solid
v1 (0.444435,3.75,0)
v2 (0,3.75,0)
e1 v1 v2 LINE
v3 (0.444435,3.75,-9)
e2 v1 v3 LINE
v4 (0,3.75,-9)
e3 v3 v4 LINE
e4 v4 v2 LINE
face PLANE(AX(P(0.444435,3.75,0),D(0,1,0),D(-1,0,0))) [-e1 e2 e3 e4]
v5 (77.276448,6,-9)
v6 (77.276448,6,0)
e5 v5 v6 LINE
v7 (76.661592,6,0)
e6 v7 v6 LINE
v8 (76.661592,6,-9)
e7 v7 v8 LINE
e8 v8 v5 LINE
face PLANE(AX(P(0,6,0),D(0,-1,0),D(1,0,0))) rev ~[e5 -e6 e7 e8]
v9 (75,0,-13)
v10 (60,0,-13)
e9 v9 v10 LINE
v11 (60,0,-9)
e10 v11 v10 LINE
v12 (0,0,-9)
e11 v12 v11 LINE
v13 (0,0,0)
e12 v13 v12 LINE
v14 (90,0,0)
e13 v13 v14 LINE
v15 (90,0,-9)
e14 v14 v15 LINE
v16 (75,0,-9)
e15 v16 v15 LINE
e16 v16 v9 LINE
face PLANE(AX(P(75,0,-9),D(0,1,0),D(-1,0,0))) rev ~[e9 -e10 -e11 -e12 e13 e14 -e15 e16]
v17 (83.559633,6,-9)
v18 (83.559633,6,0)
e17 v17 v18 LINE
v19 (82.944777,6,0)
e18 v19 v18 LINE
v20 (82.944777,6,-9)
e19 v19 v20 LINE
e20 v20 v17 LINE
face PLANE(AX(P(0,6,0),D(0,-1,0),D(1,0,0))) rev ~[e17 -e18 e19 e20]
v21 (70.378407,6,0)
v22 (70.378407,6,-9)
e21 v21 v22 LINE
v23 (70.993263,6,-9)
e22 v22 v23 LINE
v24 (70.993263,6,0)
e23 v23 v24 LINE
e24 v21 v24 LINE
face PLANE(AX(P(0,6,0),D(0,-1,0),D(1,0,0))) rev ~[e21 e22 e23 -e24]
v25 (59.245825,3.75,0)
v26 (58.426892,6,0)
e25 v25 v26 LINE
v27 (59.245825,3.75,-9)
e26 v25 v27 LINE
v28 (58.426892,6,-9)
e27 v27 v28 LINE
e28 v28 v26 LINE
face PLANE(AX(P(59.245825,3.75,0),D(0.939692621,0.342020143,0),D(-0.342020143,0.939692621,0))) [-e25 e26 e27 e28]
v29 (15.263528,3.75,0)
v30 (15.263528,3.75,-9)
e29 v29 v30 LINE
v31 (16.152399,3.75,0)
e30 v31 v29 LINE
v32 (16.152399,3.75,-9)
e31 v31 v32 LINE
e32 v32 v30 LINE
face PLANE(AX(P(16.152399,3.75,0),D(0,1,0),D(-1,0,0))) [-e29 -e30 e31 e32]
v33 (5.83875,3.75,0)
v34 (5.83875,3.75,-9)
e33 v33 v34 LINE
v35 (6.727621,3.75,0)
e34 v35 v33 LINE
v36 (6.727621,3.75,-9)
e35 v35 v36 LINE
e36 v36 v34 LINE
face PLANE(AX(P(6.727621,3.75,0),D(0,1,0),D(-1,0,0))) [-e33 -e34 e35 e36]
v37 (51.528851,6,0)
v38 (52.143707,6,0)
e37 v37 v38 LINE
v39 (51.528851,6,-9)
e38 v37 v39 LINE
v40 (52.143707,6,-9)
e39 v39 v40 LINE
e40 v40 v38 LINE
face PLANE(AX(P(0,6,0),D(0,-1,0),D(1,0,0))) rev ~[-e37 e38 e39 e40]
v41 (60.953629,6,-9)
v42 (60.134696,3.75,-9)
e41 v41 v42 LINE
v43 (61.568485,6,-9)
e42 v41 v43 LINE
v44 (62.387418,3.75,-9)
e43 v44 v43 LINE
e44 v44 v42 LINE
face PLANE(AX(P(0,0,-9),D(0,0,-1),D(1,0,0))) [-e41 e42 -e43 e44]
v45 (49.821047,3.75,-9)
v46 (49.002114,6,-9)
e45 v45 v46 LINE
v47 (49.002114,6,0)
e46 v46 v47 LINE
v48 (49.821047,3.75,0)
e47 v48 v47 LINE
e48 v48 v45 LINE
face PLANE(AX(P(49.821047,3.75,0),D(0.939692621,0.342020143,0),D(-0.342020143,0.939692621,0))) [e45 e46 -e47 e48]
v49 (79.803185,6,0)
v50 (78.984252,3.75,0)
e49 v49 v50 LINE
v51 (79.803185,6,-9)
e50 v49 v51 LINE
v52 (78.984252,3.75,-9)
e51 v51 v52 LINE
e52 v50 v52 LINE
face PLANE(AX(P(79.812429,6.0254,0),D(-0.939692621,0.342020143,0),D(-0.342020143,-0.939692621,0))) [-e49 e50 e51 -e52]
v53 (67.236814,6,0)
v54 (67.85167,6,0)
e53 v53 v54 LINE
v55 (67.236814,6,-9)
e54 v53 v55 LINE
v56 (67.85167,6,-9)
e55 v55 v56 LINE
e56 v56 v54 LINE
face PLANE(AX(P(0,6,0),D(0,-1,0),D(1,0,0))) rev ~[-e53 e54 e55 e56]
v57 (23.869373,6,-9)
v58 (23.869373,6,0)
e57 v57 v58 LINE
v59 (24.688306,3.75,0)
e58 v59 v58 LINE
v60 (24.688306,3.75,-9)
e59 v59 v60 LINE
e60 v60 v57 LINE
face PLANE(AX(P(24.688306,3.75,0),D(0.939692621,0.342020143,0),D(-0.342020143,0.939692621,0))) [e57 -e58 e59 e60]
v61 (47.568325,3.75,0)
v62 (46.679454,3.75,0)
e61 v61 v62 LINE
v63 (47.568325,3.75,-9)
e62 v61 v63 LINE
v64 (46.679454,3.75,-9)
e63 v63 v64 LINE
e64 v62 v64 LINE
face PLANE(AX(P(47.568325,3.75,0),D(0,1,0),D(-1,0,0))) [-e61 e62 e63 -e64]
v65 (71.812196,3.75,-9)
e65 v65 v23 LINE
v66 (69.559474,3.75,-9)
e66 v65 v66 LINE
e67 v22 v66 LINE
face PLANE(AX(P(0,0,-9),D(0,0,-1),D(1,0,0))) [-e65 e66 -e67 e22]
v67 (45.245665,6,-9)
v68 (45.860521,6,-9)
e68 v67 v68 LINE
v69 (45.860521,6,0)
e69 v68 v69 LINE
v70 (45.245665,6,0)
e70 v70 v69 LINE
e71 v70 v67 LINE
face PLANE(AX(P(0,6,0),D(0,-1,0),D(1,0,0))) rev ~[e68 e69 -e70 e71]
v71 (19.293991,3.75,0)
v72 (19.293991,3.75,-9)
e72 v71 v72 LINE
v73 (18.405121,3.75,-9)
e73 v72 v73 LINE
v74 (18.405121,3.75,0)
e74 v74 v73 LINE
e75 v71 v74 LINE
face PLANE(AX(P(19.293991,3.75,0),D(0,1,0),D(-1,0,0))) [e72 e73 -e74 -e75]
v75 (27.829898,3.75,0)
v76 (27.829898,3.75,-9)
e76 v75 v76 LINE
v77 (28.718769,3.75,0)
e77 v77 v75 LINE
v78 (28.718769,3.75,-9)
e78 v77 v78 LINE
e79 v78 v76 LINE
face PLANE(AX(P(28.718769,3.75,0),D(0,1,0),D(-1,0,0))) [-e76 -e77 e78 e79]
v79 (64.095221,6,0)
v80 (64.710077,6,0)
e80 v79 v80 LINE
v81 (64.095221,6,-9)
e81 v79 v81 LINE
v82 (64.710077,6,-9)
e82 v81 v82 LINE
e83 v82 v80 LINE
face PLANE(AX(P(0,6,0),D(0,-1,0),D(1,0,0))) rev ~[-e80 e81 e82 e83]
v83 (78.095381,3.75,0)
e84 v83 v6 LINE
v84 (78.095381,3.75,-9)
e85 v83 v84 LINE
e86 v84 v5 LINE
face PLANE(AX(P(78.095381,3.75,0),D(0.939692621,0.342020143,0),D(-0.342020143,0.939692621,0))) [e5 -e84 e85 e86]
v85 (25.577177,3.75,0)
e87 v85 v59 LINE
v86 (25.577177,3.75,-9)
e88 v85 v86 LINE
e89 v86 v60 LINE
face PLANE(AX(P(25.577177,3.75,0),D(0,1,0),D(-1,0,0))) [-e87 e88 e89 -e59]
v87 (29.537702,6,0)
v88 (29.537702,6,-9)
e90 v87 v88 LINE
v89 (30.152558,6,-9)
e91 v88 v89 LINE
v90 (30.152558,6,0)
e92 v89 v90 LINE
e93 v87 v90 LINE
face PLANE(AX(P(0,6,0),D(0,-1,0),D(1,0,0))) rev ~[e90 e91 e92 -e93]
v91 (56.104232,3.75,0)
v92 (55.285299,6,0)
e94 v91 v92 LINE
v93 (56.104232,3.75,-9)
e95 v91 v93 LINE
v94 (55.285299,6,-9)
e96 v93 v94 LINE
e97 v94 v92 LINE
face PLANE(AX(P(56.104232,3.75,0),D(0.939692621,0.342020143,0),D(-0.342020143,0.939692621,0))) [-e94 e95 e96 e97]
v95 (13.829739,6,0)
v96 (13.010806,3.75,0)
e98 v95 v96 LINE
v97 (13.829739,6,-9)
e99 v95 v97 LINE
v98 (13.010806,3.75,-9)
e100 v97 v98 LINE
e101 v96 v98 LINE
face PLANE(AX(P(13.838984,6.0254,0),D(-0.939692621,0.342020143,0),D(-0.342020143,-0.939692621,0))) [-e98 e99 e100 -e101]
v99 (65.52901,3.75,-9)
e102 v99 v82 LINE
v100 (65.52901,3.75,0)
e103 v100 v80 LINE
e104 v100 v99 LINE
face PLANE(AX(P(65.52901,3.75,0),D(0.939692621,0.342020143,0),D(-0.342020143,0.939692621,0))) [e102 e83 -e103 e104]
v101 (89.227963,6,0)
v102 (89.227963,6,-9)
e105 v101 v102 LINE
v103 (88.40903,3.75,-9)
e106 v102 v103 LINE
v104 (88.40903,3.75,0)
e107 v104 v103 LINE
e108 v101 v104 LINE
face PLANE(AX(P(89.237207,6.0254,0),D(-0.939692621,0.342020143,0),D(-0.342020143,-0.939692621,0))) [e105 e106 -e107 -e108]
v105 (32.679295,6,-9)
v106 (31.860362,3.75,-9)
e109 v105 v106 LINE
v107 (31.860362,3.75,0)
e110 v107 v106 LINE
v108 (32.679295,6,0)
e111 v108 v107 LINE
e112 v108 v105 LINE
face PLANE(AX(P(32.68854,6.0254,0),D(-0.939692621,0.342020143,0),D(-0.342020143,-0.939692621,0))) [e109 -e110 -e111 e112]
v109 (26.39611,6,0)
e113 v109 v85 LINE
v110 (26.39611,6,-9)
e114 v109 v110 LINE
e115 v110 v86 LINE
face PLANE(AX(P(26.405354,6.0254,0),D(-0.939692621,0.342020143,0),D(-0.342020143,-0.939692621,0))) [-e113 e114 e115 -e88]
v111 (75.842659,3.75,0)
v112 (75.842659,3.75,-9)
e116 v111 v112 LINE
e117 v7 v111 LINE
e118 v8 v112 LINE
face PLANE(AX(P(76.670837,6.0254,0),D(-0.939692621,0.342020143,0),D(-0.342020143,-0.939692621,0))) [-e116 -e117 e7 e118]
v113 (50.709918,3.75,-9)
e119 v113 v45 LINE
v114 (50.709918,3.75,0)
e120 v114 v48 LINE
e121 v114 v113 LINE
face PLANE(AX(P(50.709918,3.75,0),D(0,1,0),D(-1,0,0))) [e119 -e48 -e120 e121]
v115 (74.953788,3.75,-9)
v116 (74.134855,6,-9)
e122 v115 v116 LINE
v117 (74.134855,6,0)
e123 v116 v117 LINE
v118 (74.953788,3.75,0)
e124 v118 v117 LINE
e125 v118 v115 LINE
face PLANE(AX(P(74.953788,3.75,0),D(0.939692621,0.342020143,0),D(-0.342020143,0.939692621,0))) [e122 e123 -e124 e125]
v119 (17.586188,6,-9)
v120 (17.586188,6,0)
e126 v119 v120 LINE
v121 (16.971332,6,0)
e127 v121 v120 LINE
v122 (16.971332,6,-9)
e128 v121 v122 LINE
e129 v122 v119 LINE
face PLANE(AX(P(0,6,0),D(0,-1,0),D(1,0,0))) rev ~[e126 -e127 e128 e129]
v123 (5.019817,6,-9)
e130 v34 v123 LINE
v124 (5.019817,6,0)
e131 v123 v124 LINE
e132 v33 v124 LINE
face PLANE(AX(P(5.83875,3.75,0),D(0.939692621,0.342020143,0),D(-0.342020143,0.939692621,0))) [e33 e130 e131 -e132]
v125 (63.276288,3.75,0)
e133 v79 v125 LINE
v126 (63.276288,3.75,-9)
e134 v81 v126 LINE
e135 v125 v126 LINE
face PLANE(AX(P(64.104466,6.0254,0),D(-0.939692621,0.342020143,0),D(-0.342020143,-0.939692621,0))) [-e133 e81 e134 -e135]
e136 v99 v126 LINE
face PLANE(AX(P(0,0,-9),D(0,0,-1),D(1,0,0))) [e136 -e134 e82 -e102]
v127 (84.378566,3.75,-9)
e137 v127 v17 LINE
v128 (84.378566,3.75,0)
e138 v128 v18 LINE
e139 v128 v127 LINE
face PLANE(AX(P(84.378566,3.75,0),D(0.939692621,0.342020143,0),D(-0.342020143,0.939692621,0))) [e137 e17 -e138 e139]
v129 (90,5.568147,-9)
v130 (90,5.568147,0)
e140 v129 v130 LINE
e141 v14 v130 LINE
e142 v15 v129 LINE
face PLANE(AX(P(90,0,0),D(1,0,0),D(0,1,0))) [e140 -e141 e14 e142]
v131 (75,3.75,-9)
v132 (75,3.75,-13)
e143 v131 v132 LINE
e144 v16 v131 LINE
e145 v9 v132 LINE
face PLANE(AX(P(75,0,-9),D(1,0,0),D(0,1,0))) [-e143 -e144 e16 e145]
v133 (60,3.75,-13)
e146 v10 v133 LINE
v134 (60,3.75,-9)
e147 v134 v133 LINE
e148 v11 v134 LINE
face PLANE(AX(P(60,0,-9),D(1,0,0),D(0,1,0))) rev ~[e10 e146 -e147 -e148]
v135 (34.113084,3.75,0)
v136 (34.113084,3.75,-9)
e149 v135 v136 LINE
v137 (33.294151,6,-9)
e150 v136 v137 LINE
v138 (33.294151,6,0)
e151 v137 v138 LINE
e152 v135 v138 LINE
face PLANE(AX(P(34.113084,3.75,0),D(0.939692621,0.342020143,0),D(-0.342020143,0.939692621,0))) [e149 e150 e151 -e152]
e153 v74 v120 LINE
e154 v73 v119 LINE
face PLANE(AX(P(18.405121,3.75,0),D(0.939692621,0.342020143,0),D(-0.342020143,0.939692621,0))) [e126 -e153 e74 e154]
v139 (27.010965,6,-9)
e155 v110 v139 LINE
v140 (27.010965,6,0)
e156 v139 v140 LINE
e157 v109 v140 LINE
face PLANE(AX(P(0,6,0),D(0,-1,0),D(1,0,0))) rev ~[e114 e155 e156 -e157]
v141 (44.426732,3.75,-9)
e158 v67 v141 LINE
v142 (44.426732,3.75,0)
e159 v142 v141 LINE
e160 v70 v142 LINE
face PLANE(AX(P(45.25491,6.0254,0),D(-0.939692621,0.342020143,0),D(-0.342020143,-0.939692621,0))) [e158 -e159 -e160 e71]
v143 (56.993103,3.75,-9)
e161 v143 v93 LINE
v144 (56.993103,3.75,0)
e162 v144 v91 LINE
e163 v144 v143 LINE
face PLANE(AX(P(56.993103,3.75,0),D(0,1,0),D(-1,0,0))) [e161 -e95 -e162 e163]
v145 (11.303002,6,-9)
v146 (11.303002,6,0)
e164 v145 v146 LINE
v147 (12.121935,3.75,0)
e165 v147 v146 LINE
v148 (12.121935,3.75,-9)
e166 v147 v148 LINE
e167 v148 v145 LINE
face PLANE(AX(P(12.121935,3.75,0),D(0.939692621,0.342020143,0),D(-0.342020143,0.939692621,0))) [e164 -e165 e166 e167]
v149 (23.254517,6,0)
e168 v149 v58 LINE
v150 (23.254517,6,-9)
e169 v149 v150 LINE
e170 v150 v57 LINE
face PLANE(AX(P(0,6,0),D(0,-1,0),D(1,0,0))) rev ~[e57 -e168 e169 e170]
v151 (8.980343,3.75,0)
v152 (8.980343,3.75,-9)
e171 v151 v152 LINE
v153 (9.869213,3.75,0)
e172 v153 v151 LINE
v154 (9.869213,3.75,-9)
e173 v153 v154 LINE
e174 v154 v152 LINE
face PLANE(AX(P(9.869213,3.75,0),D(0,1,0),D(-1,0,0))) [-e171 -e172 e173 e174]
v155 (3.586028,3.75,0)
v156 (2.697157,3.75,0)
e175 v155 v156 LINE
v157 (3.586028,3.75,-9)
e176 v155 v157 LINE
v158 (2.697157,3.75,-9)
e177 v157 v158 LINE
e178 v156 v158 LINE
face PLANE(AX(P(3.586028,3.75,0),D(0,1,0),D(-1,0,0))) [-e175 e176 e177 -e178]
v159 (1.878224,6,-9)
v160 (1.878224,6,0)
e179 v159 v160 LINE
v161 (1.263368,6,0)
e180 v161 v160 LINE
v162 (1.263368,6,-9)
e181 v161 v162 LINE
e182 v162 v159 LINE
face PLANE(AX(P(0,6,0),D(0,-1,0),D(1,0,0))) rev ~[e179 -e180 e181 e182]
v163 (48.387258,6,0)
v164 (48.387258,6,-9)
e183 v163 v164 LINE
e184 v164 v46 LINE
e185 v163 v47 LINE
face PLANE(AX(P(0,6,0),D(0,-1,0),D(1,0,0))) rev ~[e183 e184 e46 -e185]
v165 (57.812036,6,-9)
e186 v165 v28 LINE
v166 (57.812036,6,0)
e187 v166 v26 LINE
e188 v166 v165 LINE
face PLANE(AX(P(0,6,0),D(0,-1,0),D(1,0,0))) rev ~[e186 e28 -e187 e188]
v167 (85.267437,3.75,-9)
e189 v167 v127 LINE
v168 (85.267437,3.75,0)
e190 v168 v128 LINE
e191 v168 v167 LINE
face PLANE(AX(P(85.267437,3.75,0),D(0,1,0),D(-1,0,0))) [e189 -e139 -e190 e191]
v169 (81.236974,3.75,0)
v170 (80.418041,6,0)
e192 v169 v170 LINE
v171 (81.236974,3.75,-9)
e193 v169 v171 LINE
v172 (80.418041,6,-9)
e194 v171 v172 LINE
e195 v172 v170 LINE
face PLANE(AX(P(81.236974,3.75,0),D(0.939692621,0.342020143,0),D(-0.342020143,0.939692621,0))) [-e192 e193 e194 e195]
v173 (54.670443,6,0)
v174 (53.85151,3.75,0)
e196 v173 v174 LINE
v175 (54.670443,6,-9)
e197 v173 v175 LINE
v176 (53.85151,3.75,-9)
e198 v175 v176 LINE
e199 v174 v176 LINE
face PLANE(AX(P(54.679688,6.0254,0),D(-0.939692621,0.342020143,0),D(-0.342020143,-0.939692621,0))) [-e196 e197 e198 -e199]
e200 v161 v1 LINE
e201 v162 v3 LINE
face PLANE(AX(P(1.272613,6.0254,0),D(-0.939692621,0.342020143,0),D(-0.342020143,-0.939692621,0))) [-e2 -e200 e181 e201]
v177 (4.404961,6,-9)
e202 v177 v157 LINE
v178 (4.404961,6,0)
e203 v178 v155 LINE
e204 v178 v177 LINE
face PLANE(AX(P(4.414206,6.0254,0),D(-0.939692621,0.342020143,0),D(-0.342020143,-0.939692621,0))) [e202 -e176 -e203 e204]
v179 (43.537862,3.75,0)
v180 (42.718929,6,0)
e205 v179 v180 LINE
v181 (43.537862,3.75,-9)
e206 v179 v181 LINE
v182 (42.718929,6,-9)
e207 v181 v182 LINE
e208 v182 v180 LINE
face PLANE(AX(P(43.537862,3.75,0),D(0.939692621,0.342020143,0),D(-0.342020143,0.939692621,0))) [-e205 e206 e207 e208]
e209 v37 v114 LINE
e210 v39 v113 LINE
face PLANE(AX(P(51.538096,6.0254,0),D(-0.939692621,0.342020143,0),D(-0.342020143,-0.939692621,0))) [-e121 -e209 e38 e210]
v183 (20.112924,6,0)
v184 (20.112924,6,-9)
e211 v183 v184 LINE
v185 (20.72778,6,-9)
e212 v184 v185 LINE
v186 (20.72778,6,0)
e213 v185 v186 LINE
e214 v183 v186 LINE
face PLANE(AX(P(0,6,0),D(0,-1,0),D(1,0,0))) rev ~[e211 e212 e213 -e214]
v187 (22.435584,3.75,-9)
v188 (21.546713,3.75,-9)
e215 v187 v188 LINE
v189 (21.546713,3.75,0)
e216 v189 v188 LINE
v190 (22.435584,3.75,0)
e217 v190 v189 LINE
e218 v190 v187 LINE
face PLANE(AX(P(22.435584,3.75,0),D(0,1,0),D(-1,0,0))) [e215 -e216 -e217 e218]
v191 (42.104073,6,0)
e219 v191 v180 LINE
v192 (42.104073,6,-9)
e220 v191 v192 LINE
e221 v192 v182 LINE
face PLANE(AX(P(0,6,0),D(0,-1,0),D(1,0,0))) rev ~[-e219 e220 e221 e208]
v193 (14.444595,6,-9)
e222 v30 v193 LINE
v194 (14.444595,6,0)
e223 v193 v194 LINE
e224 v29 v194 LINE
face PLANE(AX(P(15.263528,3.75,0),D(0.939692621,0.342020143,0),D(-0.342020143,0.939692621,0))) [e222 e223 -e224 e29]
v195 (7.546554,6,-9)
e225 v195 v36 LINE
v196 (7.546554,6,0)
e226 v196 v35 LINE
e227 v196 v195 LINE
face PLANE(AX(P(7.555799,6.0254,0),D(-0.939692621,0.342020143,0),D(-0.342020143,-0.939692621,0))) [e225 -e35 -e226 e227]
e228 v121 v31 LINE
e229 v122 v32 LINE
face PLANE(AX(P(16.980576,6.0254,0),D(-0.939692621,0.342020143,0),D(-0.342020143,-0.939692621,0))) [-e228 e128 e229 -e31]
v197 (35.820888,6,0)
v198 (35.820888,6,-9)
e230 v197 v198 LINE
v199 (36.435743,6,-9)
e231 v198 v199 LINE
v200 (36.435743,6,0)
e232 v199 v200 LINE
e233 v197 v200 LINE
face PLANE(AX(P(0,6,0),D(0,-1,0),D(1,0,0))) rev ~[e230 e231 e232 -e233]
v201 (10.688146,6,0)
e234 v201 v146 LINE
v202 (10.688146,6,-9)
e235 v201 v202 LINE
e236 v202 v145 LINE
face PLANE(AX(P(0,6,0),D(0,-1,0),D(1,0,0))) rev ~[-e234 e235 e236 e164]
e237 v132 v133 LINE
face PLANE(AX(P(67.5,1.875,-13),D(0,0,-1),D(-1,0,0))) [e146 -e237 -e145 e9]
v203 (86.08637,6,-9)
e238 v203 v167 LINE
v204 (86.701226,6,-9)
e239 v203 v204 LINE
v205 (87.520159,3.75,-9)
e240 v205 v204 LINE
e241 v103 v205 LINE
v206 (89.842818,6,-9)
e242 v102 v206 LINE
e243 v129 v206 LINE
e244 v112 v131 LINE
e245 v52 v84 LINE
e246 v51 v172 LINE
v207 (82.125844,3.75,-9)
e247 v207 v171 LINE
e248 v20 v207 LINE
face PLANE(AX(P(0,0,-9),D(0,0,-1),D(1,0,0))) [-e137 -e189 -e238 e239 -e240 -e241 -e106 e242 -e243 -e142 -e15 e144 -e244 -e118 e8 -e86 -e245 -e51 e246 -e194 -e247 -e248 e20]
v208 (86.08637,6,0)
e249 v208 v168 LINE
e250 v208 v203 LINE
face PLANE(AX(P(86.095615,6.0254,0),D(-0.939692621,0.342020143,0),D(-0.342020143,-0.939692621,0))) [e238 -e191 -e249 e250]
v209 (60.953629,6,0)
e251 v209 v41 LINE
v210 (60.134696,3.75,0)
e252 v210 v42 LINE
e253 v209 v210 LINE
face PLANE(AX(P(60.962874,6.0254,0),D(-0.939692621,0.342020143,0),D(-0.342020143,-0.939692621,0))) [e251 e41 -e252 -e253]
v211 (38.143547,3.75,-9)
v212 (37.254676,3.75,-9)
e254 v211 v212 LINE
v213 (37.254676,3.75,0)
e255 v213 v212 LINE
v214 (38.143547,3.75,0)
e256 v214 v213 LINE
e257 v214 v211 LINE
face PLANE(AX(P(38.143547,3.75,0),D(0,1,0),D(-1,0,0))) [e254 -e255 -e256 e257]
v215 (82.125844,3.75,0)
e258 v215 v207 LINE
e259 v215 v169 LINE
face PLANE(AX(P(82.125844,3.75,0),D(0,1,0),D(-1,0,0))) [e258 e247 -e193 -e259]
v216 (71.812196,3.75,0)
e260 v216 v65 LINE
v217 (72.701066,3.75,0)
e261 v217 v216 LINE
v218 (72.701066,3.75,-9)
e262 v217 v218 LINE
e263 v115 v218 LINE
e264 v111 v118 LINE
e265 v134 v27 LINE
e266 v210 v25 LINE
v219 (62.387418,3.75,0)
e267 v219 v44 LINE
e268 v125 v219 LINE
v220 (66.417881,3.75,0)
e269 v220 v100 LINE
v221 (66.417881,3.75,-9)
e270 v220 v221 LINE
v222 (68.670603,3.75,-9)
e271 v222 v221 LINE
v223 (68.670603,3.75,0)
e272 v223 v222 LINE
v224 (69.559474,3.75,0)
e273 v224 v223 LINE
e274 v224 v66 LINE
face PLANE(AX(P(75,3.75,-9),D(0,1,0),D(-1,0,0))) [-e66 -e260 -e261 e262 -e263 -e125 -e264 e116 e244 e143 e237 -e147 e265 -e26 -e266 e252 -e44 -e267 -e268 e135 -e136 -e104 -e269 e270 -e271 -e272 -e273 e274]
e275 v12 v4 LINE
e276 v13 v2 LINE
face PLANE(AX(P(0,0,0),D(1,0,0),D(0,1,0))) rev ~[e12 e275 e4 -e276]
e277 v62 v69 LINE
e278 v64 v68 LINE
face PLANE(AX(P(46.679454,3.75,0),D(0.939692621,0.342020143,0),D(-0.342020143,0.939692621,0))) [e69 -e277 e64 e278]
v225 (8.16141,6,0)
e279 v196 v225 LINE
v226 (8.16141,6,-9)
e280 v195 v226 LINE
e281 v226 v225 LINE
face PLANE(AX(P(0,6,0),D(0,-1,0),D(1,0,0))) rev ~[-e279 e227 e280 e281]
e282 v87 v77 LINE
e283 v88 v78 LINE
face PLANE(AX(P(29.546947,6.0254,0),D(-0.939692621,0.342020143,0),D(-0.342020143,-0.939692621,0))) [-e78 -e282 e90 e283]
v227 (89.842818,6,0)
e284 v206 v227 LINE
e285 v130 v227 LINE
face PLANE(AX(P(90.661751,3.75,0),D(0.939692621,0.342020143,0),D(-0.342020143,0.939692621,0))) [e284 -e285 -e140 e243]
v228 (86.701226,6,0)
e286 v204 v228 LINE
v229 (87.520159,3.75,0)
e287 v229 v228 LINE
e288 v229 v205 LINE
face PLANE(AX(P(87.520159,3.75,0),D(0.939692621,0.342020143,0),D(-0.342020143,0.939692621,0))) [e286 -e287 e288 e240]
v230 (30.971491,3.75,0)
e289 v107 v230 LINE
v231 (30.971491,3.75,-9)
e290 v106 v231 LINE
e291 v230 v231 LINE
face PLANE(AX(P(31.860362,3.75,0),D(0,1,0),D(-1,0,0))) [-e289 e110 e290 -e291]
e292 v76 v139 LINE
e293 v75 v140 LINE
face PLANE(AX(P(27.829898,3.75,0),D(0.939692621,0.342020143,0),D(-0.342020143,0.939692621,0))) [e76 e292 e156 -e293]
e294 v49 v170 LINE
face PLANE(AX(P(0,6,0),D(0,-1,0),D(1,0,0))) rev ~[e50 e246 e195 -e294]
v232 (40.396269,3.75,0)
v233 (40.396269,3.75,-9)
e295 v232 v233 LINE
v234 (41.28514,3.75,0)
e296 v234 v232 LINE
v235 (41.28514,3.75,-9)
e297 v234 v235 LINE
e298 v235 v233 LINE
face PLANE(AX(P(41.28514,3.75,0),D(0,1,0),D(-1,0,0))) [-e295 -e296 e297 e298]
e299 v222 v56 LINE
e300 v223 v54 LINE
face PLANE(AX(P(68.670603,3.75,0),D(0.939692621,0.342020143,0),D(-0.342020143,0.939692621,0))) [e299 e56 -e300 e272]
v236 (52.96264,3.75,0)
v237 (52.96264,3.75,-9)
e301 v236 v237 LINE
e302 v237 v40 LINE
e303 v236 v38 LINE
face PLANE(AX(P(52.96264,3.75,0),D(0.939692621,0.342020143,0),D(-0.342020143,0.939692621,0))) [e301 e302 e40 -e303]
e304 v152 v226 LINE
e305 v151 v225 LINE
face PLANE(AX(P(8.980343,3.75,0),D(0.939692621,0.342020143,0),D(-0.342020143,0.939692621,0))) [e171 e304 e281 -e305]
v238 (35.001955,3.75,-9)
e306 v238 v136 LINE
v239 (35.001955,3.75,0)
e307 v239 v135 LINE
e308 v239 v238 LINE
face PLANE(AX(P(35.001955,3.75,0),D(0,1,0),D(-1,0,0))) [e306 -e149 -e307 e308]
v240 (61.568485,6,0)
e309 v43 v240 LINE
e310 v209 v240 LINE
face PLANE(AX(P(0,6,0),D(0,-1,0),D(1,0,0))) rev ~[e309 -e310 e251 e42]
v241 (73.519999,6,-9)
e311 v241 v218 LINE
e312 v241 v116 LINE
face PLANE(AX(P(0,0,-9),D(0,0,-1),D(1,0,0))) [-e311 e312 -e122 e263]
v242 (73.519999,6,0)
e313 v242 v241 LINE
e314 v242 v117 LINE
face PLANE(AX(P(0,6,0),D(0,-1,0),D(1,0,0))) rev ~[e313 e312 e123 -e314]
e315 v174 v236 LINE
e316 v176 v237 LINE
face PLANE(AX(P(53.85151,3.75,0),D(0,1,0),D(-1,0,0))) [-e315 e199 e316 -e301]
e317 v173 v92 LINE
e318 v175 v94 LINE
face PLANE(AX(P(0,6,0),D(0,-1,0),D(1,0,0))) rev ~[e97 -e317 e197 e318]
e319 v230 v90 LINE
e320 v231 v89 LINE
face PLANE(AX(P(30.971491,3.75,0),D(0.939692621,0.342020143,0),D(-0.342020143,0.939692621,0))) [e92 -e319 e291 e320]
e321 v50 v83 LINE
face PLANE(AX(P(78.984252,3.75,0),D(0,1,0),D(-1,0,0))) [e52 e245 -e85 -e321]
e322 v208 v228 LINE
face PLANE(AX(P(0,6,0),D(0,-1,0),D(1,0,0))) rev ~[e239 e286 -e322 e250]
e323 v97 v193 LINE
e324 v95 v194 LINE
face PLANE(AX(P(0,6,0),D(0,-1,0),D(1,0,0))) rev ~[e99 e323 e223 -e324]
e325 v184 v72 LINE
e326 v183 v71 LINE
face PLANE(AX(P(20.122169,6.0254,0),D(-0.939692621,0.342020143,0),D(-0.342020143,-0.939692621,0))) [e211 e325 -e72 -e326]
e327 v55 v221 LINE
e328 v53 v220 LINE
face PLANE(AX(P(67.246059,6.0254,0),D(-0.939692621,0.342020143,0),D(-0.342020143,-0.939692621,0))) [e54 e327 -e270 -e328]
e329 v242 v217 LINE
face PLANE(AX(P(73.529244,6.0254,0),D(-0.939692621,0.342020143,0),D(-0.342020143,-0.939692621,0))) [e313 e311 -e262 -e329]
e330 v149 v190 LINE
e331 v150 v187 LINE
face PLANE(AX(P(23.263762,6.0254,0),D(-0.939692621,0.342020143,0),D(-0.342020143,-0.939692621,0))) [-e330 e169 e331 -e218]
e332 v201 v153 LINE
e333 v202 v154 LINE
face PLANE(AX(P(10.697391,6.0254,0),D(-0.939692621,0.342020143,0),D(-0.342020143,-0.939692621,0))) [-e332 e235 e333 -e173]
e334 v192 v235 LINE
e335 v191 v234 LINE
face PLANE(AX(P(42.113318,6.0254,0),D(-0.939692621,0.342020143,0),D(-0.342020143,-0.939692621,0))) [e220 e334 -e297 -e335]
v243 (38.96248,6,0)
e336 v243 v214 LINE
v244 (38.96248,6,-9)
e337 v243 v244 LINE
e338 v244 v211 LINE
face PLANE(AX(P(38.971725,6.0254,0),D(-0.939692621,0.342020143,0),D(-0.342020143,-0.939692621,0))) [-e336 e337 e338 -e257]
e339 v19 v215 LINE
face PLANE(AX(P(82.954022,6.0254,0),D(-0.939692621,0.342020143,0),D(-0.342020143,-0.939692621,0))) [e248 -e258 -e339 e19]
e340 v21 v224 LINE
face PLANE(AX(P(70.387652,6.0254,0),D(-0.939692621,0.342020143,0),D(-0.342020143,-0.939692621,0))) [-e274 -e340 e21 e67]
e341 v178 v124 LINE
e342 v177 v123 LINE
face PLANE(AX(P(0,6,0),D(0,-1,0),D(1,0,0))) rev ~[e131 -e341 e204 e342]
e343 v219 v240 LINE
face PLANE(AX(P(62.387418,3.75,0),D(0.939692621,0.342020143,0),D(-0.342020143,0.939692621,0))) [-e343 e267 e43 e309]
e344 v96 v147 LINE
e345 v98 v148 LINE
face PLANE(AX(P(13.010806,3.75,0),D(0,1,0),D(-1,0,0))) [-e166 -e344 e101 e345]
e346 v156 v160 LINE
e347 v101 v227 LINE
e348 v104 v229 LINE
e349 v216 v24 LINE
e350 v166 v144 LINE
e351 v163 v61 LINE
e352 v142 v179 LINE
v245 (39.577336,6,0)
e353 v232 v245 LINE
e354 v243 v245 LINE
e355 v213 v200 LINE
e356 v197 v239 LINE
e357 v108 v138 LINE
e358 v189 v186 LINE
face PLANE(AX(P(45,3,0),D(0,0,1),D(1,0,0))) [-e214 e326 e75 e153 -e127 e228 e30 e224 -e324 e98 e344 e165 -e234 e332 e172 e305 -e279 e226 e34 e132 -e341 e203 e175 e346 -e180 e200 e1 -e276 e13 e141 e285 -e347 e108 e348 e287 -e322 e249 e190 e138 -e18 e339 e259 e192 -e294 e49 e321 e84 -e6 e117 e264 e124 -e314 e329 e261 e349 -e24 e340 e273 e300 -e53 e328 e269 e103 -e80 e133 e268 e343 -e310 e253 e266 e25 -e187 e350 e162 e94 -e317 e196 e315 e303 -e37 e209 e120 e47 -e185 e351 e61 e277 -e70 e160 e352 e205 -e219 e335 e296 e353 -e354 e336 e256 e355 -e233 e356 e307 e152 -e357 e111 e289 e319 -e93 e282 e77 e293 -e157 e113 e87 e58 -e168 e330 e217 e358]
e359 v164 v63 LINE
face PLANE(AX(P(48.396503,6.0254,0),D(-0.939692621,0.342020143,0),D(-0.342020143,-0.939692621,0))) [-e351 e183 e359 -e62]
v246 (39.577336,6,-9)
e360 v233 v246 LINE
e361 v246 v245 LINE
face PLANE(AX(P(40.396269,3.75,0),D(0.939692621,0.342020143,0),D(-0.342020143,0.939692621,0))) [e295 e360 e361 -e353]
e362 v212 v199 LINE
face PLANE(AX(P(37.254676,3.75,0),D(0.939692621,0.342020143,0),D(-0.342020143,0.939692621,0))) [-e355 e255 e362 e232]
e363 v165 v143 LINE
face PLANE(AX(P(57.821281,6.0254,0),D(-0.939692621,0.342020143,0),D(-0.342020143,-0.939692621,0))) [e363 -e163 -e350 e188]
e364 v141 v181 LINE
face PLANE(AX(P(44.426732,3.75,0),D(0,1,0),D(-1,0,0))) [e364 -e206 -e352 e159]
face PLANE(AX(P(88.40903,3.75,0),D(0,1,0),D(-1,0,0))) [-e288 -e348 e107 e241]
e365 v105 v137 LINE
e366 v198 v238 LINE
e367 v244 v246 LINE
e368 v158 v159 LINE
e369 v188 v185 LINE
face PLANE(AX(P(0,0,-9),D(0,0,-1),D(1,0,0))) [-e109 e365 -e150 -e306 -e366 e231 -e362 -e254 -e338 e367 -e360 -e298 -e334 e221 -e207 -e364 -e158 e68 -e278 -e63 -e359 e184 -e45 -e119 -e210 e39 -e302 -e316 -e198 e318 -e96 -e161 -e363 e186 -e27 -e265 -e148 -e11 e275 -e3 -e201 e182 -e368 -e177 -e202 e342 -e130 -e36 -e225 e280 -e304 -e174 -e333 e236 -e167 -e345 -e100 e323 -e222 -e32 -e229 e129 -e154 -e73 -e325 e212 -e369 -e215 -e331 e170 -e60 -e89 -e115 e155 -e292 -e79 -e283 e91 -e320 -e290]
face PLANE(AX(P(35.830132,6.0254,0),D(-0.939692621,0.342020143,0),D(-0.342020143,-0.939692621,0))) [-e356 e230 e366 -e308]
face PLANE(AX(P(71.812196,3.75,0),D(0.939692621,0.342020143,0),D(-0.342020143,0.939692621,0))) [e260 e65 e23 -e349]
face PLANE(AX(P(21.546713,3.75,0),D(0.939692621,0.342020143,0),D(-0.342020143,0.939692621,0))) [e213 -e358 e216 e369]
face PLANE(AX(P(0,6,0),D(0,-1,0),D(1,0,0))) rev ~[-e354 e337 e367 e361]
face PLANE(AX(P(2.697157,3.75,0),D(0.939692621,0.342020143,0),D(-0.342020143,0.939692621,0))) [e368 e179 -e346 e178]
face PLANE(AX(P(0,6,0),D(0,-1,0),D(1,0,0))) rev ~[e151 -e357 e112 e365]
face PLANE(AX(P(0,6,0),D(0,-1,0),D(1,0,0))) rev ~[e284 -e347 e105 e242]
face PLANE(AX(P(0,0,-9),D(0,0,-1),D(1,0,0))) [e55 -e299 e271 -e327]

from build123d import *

# Parameters (mm, degrees)
BLANKSKE_W          = 90
BLANKSKE_H          = 6
BLANK_DEPTH         = 12
TOOTHCUTSIM_DEPTH   = 91.994505329
TEETHCUTS_COUNT     = 30
TEETHCUTS_PITCH     = 3.14159265
SKETCH3_W           = 91.493811728
SKETCH3_H           = 3
CUT_EXTRUDE3_DEPTH  = 10
SKETCH4_W           = 15
SKETCH4_H           = 3.75
BOSS_EXTRUDE1_DEPTH = 4


with BuildPart() as part:
    # BlankSke → Blank (new body)
    with BuildSketch(Plane.XY):
        with Locations((45, 3)):
            Rectangle(BLANKSKE_W, BLANKSKE_H)
    extrude(amount=-BLANK_DEPTH)

    # TooCutSkeSim → ToothCutSim (cut, through all)
    with BuildSketch(Plane.XY):
        Polygon((0.44443537, 3.75), (-0.44443537, 3.75), (-1.272613241, 6.0254), (1.272613241, 6.0254), align=None)
    toothcutsim = extrude(amount=-TOOTHCUTSIM_DEPTH, mode=Mode.SUBTRACT)

    # TeethCuts: ToothCutSim ×30
    with Locations(*[(i * TEETHCUTS_PITCH, 0, 0) for i in range(1, TEETHCUTS_COUNT)]):
        add(toothcutsim, mode=Mode.SUBTRACT)

    # Sketch3 → Cut-Extrude3 (cut)
    with BuildSketch(Plane(origin=(0, 0, 0), x_dir=(1, 0, 0), z_dir=(0, 1, 0))):
        with Locations((45.746905864, 10.5)):
            Rectangle(SKETCH3_W, SKETCH3_H)
    extrude(amount=CUT_EXTRUDE3_DEPTH, mode=Mode.SUBTRACT)

    # Sketch4 → Boss-Extrude1 (add)
    with BuildSketch(Plane(origin=(0, 0, -9), x_dir=(-1, 0, 0), z_dir=(0, 0, -1))):
        with Locations((-67.5, 1.875)):
            Rectangle(SKETCH4_W, SKETCH4_H)
    extrude(amount=BOSS_EXTRUDE1_DEPTH)


solid = part.part
